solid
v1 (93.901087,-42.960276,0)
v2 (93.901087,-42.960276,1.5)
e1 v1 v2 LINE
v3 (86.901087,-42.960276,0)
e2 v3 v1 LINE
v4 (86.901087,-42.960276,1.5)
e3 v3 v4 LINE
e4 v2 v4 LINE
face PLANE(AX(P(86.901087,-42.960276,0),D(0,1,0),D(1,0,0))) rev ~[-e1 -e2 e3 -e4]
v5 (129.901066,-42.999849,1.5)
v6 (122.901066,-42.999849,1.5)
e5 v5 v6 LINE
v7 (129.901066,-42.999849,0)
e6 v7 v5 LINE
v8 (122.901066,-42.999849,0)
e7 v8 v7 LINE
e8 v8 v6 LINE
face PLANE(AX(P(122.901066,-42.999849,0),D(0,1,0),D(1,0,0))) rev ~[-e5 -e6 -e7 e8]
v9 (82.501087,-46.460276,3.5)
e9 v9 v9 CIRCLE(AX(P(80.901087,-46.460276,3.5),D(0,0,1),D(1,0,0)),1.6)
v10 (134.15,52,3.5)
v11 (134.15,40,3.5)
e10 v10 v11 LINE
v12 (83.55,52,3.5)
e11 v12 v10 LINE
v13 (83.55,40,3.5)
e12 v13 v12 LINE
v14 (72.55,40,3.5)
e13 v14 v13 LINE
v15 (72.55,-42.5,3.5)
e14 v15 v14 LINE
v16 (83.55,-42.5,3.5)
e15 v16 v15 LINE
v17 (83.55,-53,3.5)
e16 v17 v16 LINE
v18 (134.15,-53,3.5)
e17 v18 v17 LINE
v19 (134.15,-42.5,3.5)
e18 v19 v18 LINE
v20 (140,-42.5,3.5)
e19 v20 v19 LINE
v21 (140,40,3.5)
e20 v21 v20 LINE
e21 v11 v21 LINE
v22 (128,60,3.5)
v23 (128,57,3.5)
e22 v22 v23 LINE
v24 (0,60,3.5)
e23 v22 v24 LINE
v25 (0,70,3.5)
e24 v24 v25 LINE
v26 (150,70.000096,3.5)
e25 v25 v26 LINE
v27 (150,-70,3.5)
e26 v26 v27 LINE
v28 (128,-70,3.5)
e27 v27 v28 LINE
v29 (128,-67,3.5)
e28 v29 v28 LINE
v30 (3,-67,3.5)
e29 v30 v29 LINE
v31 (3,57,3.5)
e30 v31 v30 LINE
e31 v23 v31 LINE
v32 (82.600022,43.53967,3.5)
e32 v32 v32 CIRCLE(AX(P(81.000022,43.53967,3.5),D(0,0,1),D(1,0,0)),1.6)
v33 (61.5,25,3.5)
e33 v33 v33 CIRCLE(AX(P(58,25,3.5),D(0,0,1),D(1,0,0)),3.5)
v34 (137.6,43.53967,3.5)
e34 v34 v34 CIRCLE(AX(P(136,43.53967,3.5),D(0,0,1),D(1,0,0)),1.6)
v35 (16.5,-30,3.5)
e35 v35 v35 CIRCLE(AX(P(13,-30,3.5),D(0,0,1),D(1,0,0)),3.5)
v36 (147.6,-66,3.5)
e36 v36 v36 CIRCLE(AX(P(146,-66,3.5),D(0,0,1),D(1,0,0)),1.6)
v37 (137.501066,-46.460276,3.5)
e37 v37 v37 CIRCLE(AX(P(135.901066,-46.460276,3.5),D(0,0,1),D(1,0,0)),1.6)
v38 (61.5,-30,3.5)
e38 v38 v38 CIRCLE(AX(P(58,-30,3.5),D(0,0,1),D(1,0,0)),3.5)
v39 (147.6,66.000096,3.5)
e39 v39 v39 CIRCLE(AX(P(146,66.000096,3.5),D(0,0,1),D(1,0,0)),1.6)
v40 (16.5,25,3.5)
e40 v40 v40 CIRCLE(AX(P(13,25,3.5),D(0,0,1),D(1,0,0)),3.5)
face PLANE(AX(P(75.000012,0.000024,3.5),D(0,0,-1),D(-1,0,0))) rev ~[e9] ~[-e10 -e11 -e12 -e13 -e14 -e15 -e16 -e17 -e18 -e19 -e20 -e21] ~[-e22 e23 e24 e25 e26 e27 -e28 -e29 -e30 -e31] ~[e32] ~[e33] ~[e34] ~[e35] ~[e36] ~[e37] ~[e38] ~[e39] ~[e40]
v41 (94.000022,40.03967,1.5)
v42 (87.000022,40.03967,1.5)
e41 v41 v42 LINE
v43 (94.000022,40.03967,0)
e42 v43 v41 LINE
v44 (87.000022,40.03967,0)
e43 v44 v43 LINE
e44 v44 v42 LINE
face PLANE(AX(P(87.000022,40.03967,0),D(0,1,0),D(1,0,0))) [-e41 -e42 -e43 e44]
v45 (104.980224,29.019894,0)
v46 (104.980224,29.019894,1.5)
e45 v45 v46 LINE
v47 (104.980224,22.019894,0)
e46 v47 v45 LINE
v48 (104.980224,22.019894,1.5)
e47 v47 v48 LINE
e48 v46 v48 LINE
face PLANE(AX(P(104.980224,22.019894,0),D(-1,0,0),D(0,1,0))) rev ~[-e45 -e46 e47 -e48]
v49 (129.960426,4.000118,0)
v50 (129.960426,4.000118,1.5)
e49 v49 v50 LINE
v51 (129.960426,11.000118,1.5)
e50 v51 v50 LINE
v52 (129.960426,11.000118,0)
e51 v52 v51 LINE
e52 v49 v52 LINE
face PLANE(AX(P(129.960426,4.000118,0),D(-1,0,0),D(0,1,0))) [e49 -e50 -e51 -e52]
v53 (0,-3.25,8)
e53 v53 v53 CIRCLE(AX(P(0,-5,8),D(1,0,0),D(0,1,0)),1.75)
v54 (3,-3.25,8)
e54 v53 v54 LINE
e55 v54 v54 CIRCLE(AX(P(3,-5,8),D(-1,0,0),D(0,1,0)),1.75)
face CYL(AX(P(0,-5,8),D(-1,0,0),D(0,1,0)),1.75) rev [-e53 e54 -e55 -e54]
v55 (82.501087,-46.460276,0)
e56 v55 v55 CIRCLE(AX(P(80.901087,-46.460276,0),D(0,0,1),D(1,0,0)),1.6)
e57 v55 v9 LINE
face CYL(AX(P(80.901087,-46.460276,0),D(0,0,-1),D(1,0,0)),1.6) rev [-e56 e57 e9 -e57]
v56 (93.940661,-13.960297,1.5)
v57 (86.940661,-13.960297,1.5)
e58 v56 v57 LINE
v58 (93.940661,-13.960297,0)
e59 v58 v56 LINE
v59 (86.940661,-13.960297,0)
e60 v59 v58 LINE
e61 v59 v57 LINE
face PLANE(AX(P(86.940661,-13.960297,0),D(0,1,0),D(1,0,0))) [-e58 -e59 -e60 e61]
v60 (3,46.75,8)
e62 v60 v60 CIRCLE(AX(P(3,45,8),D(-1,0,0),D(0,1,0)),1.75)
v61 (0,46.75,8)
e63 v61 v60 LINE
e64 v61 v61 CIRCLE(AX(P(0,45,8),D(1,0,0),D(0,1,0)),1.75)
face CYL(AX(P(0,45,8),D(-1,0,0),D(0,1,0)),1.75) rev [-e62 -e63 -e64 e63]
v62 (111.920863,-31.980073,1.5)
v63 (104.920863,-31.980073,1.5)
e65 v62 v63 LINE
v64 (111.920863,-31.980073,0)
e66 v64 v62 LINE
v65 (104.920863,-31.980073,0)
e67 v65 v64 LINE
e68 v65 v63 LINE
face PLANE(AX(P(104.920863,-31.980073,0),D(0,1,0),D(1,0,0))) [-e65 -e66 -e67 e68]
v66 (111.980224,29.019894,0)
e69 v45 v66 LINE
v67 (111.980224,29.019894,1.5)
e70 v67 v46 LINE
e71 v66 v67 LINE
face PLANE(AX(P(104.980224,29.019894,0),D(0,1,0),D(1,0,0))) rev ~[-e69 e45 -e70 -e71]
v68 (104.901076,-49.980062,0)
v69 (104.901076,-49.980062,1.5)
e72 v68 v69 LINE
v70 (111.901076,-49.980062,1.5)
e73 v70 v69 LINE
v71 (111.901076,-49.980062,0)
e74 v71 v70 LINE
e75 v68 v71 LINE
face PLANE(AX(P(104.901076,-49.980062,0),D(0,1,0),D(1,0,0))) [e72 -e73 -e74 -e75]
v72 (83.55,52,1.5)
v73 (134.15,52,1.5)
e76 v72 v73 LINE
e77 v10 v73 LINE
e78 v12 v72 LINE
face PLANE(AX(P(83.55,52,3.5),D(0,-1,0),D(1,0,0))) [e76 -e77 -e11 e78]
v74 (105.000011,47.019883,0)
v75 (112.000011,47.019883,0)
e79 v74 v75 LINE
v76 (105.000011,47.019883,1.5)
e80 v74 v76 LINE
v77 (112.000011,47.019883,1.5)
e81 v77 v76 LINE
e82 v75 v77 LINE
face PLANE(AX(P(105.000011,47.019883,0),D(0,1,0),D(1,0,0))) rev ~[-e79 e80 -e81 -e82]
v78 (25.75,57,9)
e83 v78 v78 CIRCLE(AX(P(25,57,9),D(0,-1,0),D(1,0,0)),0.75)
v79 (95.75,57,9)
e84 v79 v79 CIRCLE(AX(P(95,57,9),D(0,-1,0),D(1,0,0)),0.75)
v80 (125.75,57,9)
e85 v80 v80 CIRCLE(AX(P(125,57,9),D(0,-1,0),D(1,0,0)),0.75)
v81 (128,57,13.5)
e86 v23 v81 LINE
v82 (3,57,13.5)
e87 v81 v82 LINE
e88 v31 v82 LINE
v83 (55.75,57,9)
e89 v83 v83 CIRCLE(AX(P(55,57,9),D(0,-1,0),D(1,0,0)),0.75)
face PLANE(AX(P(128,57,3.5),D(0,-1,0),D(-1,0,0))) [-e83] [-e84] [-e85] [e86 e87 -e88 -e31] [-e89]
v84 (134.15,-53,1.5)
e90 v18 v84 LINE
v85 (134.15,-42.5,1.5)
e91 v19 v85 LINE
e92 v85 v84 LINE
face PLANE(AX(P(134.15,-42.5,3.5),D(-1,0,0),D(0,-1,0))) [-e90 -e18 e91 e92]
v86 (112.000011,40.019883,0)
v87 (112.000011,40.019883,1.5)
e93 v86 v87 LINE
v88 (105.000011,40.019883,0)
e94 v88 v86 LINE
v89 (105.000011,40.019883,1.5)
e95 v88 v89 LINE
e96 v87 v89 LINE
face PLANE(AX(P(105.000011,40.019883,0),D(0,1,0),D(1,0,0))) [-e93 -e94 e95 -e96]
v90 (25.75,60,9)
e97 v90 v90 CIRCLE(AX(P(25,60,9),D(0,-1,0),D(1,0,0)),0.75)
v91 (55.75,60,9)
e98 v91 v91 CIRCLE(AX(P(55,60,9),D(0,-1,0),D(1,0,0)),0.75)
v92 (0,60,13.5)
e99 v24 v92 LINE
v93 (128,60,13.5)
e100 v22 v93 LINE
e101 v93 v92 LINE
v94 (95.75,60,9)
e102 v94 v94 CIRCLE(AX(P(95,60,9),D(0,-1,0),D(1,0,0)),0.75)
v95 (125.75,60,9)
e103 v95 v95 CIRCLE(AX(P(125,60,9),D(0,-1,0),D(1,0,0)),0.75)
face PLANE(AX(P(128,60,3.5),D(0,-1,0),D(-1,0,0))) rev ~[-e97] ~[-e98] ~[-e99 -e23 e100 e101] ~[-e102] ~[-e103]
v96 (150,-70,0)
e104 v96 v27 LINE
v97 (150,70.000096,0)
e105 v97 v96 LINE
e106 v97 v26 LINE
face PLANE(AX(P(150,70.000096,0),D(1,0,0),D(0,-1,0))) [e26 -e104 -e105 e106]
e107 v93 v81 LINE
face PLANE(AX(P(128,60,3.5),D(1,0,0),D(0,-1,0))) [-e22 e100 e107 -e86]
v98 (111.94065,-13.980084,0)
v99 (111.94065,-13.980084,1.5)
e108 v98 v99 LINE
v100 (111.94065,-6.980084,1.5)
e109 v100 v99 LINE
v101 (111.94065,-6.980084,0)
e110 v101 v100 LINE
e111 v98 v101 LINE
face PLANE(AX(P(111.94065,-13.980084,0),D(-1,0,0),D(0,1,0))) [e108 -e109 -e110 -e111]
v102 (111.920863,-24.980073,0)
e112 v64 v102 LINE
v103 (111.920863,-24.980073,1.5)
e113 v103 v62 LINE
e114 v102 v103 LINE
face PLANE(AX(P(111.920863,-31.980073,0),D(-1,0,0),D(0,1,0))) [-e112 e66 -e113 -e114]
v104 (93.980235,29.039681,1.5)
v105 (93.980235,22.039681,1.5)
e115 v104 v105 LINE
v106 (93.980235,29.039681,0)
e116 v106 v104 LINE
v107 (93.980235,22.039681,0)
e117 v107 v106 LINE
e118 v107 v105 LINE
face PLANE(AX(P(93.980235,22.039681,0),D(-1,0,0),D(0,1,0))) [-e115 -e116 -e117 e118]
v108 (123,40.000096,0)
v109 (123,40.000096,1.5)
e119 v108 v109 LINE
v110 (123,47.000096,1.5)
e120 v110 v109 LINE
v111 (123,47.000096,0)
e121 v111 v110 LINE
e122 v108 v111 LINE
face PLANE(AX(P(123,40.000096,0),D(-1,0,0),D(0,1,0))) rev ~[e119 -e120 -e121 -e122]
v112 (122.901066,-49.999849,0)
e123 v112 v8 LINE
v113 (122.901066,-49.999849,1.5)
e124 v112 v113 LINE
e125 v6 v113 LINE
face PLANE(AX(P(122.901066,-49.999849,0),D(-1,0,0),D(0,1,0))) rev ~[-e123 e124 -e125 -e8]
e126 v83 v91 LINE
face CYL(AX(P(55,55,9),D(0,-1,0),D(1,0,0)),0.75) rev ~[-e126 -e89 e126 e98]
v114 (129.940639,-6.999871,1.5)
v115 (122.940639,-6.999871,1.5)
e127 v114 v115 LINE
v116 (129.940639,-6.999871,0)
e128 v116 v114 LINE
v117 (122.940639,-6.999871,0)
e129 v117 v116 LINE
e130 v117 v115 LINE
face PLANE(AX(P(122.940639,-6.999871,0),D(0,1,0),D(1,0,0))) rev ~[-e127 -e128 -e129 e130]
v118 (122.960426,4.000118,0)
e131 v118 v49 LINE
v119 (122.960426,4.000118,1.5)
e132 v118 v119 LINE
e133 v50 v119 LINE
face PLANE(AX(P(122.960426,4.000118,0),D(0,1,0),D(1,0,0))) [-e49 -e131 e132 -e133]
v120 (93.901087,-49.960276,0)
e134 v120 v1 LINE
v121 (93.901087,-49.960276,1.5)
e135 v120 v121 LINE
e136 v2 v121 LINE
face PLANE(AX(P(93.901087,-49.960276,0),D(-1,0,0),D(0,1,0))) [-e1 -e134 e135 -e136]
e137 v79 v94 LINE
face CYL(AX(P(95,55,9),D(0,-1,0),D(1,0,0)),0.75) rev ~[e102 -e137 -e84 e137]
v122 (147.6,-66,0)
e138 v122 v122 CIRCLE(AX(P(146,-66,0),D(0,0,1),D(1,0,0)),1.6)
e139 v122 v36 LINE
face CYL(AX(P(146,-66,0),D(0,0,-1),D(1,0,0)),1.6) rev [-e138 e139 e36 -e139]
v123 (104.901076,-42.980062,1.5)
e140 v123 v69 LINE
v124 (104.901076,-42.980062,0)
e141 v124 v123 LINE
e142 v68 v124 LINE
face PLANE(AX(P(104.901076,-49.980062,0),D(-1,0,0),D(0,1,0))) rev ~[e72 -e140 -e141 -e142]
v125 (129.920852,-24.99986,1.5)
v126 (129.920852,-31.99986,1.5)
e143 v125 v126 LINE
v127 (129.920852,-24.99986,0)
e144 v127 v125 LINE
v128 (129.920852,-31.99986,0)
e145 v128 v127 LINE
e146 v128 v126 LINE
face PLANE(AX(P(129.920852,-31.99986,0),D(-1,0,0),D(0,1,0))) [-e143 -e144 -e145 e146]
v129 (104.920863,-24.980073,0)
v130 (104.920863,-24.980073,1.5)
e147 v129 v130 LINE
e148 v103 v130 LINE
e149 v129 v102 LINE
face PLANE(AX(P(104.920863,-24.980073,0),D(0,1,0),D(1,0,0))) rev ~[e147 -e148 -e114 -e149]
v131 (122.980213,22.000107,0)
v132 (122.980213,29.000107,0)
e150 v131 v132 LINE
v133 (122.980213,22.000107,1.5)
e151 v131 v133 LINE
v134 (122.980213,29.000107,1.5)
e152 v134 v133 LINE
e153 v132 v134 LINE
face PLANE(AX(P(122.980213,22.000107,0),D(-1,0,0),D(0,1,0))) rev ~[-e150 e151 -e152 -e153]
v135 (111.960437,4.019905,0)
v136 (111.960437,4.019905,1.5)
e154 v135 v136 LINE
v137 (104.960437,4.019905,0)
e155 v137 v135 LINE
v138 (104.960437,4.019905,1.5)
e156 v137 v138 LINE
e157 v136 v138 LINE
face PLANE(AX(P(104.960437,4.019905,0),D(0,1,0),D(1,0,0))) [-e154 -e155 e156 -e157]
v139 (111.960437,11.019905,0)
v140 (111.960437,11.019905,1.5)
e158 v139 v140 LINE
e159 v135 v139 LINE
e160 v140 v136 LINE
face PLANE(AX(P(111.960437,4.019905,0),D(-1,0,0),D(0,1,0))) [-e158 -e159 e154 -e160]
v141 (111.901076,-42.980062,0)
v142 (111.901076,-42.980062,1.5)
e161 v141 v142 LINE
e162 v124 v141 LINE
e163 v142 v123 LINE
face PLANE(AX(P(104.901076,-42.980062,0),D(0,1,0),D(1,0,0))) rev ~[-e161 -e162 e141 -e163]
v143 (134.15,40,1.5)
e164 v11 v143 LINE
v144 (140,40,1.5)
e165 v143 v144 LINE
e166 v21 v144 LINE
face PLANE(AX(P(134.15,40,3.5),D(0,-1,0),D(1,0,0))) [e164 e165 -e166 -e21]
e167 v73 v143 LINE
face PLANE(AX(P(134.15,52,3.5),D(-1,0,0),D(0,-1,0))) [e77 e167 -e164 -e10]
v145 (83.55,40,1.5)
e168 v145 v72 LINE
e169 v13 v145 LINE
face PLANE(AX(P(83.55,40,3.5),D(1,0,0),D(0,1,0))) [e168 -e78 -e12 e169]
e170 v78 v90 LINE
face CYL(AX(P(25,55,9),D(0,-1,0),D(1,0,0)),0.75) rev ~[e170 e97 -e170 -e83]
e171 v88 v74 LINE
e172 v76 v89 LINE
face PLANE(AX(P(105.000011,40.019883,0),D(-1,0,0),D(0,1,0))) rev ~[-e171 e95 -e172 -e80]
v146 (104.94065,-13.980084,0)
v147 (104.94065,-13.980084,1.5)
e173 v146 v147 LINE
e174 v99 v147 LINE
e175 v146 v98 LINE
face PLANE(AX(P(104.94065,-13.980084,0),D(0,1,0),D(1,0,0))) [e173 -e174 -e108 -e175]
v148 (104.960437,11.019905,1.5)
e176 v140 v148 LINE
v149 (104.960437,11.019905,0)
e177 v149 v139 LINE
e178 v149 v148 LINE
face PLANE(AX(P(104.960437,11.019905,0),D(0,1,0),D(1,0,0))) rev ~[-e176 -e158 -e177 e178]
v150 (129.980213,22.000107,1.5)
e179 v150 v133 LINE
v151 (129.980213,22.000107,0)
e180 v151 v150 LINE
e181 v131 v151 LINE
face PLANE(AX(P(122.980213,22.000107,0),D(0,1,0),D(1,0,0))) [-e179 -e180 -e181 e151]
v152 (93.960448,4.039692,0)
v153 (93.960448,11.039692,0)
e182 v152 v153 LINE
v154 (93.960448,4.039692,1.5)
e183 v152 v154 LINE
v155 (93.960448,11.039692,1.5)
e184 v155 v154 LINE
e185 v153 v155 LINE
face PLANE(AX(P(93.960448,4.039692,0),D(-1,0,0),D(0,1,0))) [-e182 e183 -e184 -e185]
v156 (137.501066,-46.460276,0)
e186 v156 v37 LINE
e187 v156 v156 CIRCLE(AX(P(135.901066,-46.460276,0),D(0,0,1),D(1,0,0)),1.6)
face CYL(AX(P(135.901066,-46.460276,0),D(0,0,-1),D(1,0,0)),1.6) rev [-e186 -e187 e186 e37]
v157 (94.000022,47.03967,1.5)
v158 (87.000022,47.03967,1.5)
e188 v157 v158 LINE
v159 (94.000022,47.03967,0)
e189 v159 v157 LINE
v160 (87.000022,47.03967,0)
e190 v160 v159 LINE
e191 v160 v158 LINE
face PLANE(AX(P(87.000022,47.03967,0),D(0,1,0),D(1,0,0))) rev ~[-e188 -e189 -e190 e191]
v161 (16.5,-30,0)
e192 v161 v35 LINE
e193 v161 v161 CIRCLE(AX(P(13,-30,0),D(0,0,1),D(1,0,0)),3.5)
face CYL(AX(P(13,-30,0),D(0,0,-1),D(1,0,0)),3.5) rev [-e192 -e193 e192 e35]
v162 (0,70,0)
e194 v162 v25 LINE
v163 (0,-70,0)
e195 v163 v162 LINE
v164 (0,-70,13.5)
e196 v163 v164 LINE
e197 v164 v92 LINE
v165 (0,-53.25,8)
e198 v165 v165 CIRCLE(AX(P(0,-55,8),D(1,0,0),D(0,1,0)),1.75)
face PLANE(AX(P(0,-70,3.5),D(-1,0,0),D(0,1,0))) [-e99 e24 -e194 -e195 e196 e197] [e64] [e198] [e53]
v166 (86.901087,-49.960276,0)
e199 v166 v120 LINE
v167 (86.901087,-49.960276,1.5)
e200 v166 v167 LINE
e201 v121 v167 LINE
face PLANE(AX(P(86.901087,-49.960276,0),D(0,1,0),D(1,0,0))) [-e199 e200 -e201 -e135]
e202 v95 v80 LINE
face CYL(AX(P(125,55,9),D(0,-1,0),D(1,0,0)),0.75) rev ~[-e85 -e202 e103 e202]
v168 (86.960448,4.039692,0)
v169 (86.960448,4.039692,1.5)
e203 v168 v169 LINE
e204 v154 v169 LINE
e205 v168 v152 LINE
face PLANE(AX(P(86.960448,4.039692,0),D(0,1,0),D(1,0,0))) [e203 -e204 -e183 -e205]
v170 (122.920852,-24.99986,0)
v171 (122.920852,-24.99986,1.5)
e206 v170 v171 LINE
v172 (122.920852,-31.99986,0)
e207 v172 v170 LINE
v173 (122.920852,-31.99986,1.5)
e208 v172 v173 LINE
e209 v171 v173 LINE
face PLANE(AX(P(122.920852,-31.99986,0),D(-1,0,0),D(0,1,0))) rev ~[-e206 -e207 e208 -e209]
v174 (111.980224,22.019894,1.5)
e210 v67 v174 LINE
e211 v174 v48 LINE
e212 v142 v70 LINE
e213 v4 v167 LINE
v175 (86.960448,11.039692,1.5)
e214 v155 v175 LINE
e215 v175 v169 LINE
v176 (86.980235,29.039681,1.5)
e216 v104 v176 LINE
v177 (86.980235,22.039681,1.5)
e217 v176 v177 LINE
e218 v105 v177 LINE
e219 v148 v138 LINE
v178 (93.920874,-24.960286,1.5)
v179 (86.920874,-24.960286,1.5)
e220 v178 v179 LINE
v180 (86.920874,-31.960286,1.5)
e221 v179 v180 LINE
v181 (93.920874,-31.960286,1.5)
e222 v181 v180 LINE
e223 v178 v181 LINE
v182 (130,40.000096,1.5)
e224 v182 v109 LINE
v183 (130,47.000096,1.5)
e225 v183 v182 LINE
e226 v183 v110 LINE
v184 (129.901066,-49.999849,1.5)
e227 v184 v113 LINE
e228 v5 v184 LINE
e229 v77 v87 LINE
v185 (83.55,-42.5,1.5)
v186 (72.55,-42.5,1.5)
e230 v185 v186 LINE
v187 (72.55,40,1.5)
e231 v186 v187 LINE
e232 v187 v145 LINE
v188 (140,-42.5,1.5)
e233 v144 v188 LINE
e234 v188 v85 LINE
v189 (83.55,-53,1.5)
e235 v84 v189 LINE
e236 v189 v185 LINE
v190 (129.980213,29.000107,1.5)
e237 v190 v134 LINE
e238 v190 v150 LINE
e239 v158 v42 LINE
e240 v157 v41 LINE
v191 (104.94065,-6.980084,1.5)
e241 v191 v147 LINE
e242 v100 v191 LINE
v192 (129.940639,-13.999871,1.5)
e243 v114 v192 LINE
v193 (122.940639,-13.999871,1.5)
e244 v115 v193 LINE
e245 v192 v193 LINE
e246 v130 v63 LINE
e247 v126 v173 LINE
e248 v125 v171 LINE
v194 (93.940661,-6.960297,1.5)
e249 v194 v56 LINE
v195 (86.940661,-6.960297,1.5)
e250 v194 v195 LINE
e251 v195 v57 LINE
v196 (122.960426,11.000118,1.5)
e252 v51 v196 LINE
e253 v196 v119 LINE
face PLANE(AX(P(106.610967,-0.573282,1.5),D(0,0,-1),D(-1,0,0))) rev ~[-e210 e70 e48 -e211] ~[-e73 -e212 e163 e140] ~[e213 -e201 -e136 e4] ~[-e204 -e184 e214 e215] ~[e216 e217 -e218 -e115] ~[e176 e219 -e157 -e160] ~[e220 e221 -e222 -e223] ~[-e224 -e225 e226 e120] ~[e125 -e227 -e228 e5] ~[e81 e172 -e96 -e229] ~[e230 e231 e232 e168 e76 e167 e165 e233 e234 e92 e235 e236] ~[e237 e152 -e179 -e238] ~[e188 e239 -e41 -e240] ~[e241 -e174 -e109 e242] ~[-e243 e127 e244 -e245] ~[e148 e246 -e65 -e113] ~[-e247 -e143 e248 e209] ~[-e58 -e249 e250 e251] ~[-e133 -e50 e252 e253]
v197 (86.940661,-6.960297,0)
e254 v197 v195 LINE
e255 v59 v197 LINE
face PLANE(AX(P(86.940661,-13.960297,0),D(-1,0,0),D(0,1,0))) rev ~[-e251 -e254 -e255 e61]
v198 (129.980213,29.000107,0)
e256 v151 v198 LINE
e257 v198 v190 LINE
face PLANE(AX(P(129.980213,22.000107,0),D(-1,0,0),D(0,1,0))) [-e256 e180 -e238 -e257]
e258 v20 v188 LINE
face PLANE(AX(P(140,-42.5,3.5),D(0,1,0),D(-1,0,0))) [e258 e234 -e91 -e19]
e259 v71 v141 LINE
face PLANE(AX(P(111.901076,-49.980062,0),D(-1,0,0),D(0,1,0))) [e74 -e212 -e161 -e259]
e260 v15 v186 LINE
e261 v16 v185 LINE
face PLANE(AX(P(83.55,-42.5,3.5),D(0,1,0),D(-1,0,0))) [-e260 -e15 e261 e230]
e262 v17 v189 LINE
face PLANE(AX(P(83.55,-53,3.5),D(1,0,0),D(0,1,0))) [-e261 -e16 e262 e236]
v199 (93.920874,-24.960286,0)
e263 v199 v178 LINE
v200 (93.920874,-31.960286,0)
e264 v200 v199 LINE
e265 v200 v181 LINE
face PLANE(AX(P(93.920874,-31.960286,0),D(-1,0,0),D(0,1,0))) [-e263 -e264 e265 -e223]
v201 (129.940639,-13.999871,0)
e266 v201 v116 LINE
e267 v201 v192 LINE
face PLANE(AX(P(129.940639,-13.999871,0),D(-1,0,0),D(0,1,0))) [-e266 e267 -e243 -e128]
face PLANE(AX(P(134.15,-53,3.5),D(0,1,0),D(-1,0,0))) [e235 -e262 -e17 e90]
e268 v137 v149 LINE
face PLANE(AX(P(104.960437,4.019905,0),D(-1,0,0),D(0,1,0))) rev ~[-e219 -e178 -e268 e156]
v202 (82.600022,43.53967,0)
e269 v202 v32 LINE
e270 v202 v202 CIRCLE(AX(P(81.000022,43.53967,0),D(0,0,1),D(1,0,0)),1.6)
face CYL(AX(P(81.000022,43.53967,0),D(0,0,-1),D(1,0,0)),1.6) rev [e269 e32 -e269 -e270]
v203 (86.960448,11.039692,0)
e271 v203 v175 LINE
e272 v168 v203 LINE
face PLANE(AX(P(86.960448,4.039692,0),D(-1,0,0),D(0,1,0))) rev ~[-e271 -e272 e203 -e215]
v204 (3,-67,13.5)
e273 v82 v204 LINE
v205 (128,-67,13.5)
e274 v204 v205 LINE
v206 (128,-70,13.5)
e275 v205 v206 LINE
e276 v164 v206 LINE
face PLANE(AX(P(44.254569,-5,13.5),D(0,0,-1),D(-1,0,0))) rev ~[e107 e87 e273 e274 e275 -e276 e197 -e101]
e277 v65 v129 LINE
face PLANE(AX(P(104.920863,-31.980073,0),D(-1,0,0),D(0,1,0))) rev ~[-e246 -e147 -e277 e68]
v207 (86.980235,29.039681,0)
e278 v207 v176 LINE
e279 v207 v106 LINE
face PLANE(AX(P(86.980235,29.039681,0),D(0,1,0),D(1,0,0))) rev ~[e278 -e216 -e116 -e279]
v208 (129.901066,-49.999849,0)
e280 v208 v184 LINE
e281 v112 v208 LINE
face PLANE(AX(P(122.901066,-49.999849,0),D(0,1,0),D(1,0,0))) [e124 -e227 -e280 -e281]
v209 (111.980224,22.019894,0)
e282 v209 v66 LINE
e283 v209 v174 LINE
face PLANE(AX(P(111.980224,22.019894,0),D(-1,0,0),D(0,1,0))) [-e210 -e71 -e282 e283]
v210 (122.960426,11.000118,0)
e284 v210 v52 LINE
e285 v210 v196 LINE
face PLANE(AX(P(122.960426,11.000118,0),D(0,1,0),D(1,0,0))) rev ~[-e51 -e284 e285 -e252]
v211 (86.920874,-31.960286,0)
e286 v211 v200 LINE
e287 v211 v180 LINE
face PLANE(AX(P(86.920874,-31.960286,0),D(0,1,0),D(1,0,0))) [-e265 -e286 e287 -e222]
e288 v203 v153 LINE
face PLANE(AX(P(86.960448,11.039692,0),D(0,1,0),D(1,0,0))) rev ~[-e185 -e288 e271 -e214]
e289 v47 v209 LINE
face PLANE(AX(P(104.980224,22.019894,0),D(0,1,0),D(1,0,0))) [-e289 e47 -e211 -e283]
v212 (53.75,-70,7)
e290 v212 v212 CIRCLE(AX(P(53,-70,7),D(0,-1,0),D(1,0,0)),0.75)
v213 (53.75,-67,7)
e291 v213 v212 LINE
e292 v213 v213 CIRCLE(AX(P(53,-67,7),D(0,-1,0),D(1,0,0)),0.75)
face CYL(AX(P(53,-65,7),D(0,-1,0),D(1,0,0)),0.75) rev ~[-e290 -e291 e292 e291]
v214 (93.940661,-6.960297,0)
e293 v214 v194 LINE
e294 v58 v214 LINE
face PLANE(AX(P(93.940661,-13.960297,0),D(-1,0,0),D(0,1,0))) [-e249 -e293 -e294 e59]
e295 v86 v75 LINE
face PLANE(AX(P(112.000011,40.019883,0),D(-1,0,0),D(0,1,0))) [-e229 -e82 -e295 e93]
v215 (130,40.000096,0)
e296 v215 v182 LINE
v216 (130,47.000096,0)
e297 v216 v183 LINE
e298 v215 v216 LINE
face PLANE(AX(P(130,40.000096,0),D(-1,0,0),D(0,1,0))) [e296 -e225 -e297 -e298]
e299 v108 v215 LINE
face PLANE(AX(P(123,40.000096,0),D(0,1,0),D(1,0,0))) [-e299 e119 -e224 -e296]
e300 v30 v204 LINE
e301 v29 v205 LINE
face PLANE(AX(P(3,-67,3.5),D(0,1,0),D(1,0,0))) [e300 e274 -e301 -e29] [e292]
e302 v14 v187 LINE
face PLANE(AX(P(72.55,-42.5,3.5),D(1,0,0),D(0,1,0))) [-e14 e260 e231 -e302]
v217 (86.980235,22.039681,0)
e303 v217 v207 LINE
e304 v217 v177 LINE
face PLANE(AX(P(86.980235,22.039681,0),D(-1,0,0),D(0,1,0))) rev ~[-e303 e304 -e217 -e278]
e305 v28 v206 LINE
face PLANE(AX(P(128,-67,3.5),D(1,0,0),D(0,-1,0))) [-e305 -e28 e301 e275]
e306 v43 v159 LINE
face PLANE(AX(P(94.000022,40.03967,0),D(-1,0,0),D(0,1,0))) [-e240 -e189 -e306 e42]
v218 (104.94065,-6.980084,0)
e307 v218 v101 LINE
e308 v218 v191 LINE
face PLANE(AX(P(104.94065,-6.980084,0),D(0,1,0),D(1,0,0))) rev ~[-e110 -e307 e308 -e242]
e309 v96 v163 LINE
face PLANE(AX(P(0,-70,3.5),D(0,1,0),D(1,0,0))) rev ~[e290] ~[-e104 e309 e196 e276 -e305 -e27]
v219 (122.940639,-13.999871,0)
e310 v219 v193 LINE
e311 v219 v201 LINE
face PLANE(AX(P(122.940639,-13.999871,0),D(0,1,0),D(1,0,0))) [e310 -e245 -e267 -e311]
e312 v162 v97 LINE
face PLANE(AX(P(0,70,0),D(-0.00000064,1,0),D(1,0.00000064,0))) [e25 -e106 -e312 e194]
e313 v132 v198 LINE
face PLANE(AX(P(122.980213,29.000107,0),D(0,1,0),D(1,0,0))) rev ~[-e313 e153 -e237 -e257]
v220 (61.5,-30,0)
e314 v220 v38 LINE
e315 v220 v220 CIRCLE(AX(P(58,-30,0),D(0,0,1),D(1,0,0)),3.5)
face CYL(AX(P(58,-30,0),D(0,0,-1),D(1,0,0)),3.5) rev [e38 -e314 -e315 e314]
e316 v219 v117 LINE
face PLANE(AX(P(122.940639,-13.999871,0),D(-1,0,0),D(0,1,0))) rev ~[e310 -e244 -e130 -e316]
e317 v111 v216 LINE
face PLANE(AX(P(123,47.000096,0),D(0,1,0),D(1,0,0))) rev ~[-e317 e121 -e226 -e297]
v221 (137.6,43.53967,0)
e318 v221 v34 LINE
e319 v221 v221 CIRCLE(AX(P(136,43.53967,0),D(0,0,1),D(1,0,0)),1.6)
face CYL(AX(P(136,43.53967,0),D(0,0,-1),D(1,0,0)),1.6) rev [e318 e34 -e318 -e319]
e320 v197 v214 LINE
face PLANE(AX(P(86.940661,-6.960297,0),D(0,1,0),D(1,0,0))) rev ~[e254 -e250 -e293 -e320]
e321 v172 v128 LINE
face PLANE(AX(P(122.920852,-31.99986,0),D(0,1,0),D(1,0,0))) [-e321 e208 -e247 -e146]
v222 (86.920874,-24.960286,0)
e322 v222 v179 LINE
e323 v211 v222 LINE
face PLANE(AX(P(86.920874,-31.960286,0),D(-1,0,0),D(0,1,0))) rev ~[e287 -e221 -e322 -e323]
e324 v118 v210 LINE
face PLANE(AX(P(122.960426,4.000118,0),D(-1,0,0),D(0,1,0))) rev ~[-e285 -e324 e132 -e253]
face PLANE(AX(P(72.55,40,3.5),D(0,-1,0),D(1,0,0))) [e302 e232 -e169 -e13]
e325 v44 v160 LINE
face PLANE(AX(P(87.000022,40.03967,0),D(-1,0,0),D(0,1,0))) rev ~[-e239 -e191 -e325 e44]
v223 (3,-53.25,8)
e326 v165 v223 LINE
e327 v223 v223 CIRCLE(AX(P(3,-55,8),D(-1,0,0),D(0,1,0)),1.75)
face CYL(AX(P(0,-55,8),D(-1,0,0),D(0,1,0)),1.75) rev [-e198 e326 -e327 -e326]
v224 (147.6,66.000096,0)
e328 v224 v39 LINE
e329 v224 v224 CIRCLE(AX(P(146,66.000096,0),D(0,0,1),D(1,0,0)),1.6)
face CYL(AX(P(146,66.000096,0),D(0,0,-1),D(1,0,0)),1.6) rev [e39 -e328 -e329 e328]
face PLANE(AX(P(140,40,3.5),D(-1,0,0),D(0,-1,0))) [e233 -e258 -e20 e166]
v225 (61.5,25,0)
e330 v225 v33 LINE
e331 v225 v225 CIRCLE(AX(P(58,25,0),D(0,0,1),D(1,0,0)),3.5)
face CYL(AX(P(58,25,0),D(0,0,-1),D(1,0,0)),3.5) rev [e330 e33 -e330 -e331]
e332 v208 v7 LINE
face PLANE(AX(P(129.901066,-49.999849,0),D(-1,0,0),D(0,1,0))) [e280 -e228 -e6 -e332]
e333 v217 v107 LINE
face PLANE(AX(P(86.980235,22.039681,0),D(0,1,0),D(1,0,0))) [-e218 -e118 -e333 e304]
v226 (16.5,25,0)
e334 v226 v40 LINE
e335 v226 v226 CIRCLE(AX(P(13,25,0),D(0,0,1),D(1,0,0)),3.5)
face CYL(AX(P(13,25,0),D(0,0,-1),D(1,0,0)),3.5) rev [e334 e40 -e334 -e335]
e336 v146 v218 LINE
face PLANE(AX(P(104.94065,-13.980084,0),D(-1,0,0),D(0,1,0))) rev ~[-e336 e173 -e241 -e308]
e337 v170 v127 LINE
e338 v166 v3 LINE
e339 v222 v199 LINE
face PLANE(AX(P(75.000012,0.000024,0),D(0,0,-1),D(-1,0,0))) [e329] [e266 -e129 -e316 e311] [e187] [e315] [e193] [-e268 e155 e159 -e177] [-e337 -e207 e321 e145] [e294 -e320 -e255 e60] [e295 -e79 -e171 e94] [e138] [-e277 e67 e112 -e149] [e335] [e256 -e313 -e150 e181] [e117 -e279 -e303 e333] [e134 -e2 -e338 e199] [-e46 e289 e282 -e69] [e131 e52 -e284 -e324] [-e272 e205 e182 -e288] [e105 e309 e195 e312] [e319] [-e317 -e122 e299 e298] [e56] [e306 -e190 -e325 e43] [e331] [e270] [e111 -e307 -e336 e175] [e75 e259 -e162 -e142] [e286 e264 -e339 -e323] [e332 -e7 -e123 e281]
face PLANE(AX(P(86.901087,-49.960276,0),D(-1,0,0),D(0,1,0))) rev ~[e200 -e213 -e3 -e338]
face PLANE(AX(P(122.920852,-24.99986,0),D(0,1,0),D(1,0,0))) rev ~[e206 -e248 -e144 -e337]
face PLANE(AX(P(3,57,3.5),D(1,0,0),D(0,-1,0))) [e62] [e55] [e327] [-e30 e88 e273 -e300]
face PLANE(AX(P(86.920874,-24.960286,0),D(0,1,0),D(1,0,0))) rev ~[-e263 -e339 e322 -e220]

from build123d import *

# Parameters (mm, degrees)
SKETCH013_R     = 3.5
SKETCH013_R_2   = 1.6
SKETCH013_W     = 7
SKETCH013_H     = 7
PAD004_DEPTH    = 3.5
PAD_DEPTH       = 10
SKETCH015_R     = 0.75
POCKET005_DEPTH = 7.5
SKETCH004_R     = 0.75
POCKET006_DEPTH = 10
SKETCH014_R     = 1.75
POCKET007_DEPTH = 5
POCKET_DEPTH    = 2


with BuildPart() as part:
    # Sketch013 → Pad004 (new body)
    with BuildSketch(Plane.XY):
        Polygon((0, 70), (150, 70.000096), (150, -70), (0, -70), align=None)
        with Locations((13, 25)):
            Circle(SKETCH013_R, mode=Mode.SUBTRACT)
        with Locations((58, 25)):
            Circle(SKETCH013_R, mode=Mode.SUBTRACT)
        with Locations((13, -30)):
            Circle(SKETCH013_R, mode=Mode.SUBTRACT)
        with Locations((58, -30)):
            Circle(SKETCH013_R, mode=Mode.SUBTRACT)
        with Locations((146, 66.000096)):
            Circle(SKETCH013_R_2, mode=Mode.SUBTRACT)
        with Locations((146, -66)):
            Circle(SKETCH013_R_2, mode=Mode.SUBTRACT)
        with Locations((81.000022, 43.53967)):
            Circle(SKETCH013_R_2, mode=Mode.SUBTRACT)
        with Locations((136, 43.53967)):
            Circle(SKETCH013_R_2, mode=Mode.SUBTRACT)
        with Locations((80.901087, -46.460276)):
            Circle(SKETCH013_R_2, mode=Mode.SUBTRACT)
        with Locations((135.901066, -46.460276)):
            Circle(SKETCH013_R_2, mode=Mode.SUBTRACT)
        with Locations((90.500022, 43.53967)):
            Rectangle(SKETCH013_W, SKETCH013_H, mode=Mode.SUBTRACT)
        with Locations((108.500011, 43.519883)):
            Rectangle(SKETCH013_W, SKETCH013_H, mode=Mode.SUBTRACT)
        with Locations((126.5, 43.500096)):
            Rectangle(SKETCH013_W, SKETCH013_H, mode=Mode.SUBTRACT)
        with Locations((90.480235, 25.539681)):
            Rectangle(SKETCH013_W, SKETCH013_H, mode=Mode.SUBTRACT)
        with Locations((108.480224, 25.519894)):
            Rectangle(SKETCH013_W, SKETCH013_H, mode=Mode.SUBTRACT)
        with Locations((126.480213, 25.500107)):
            Rectangle(SKETCH013_W, SKETCH013_H, mode=Mode.SUBTRACT)
        with Locations((90.460448, 7.539692)):
            Rectangle(SKETCH013_W, SKETCH013_H, mode=Mode.SUBTRACT)
        with Locations((108.460437, 7.519905)):
            Rectangle(SKETCH013_W, SKETCH013_H, mode=Mode.SUBTRACT)
        with Locations((126.460426, 7.500118)):
            Rectangle(SKETCH013_W, SKETCH013_H, mode=Mode.SUBTRACT)
        with Locations((90.440661, -10.460297)):
            Rectangle(SKETCH013_W, SKETCH013_H, mode=Mode.SUBTRACT)
        with Locations((108.44065, -10.480084)):
            Rectangle(SKETCH013_W, SKETCH013_H, mode=Mode.SUBTRACT)
        with Locations((126.440639, -10.499871)):
            Rectangle(SKETCH013_W, SKETCH013_H, mode=Mode.SUBTRACT)
        with Locations((90.420874, -28.460286)):
            Rectangle(SKETCH013_W, SKETCH013_H, mode=Mode.SUBTRACT)
        with Locations((108.420863, -28.480073)):
            Rectangle(SKETCH013_W, SKETCH013_H, mode=Mode.SUBTRACT)
        with Locations((126.420852, -28.49986)):
            Rectangle(SKETCH013_W, SKETCH013_H, mode=Mode.SUBTRACT)
        with Locations((90.401087, -46.460276)):
            Rectangle(SKETCH013_W, SKETCH013_H, mode=Mode.SUBTRACT)
        with Locations((108.401076, -46.480062)):
            Rectangle(SKETCH013_W, SKETCH013_H, mode=Mode.SUBTRACT)
        with Locations((126.401066, -46.499849)):
            Rectangle(SKETCH013_W, SKETCH013_H, mode=Mode.SUBTRACT)
    extrude(amount=PAD004_DEPTH)

    # Sketch001 → Pad (join)
    with BuildSketch(Plane.XY.offset(3.5)):
        Polygon((0, 60), (3, 60), (128, 60), (128, 57), (3, 57), (3, -67), (128, -67), (128, -70), (3, -70), (0, -70), align=None)
    extrude(amount=PAD_DEPTH)

    # Sketch015 → Pocket005 (cut, symmetric)
    with BuildSketch(Plane.XZ.offset(65)):
        with Locations((53, 7)):
            Circle(SKETCH015_R)
    extrude(amount=POCKET005_DEPTH, both=True, mode=Mode.SUBTRACT)

    # Sketch004 → Pocket006 (cut, symmetric)
    with BuildSketch(Plane.XZ.offset(-55)):
        with Locations((25, 9)):
            Circle(SKETCH004_R)
        with Locations((95, 9)):
            Circle(SKETCH004_R)
        with Locations((55, 9)):
            Circle(SKETCH004_R)
        with Locations((125, 9)):
            Circle(SKETCH004_R)
    extrude(amount=POCKET006_DEPTH, both=True, mode=Mode.SUBTRACT)

    # Sketch014 → Pocket007 (cut)
    with BuildSketch(Plane.YZ):
        with Locations((45, 8)):
            Circle(SKETCH014_R)
        with Locations((-5, 8)):
            Circle(SKETCH014_R)
        with Locations((-55, 8)):
            Circle(SKETCH014_R)
    extrude(amount=POCKET007_DEPTH, mode=Mode.SUBTRACT)

    # Sketch → Pocket (cut)
    with BuildSketch(Plane.XY.offset(3.5)):
        Polygon((83.55, 52), (134.15, 52), (134.15, 40), (140, 40), (140, -42.5), (134.15, -42.5), (134.15, -53), (83.55, -53), (83.55, -42.5), (72.55, -42.5), (72.55, 40), (83.55, 40), align=None)
    extrude(amount=-POCKET_DEPTH, mode=Mode.SUBTRACT)


solid = part.part
